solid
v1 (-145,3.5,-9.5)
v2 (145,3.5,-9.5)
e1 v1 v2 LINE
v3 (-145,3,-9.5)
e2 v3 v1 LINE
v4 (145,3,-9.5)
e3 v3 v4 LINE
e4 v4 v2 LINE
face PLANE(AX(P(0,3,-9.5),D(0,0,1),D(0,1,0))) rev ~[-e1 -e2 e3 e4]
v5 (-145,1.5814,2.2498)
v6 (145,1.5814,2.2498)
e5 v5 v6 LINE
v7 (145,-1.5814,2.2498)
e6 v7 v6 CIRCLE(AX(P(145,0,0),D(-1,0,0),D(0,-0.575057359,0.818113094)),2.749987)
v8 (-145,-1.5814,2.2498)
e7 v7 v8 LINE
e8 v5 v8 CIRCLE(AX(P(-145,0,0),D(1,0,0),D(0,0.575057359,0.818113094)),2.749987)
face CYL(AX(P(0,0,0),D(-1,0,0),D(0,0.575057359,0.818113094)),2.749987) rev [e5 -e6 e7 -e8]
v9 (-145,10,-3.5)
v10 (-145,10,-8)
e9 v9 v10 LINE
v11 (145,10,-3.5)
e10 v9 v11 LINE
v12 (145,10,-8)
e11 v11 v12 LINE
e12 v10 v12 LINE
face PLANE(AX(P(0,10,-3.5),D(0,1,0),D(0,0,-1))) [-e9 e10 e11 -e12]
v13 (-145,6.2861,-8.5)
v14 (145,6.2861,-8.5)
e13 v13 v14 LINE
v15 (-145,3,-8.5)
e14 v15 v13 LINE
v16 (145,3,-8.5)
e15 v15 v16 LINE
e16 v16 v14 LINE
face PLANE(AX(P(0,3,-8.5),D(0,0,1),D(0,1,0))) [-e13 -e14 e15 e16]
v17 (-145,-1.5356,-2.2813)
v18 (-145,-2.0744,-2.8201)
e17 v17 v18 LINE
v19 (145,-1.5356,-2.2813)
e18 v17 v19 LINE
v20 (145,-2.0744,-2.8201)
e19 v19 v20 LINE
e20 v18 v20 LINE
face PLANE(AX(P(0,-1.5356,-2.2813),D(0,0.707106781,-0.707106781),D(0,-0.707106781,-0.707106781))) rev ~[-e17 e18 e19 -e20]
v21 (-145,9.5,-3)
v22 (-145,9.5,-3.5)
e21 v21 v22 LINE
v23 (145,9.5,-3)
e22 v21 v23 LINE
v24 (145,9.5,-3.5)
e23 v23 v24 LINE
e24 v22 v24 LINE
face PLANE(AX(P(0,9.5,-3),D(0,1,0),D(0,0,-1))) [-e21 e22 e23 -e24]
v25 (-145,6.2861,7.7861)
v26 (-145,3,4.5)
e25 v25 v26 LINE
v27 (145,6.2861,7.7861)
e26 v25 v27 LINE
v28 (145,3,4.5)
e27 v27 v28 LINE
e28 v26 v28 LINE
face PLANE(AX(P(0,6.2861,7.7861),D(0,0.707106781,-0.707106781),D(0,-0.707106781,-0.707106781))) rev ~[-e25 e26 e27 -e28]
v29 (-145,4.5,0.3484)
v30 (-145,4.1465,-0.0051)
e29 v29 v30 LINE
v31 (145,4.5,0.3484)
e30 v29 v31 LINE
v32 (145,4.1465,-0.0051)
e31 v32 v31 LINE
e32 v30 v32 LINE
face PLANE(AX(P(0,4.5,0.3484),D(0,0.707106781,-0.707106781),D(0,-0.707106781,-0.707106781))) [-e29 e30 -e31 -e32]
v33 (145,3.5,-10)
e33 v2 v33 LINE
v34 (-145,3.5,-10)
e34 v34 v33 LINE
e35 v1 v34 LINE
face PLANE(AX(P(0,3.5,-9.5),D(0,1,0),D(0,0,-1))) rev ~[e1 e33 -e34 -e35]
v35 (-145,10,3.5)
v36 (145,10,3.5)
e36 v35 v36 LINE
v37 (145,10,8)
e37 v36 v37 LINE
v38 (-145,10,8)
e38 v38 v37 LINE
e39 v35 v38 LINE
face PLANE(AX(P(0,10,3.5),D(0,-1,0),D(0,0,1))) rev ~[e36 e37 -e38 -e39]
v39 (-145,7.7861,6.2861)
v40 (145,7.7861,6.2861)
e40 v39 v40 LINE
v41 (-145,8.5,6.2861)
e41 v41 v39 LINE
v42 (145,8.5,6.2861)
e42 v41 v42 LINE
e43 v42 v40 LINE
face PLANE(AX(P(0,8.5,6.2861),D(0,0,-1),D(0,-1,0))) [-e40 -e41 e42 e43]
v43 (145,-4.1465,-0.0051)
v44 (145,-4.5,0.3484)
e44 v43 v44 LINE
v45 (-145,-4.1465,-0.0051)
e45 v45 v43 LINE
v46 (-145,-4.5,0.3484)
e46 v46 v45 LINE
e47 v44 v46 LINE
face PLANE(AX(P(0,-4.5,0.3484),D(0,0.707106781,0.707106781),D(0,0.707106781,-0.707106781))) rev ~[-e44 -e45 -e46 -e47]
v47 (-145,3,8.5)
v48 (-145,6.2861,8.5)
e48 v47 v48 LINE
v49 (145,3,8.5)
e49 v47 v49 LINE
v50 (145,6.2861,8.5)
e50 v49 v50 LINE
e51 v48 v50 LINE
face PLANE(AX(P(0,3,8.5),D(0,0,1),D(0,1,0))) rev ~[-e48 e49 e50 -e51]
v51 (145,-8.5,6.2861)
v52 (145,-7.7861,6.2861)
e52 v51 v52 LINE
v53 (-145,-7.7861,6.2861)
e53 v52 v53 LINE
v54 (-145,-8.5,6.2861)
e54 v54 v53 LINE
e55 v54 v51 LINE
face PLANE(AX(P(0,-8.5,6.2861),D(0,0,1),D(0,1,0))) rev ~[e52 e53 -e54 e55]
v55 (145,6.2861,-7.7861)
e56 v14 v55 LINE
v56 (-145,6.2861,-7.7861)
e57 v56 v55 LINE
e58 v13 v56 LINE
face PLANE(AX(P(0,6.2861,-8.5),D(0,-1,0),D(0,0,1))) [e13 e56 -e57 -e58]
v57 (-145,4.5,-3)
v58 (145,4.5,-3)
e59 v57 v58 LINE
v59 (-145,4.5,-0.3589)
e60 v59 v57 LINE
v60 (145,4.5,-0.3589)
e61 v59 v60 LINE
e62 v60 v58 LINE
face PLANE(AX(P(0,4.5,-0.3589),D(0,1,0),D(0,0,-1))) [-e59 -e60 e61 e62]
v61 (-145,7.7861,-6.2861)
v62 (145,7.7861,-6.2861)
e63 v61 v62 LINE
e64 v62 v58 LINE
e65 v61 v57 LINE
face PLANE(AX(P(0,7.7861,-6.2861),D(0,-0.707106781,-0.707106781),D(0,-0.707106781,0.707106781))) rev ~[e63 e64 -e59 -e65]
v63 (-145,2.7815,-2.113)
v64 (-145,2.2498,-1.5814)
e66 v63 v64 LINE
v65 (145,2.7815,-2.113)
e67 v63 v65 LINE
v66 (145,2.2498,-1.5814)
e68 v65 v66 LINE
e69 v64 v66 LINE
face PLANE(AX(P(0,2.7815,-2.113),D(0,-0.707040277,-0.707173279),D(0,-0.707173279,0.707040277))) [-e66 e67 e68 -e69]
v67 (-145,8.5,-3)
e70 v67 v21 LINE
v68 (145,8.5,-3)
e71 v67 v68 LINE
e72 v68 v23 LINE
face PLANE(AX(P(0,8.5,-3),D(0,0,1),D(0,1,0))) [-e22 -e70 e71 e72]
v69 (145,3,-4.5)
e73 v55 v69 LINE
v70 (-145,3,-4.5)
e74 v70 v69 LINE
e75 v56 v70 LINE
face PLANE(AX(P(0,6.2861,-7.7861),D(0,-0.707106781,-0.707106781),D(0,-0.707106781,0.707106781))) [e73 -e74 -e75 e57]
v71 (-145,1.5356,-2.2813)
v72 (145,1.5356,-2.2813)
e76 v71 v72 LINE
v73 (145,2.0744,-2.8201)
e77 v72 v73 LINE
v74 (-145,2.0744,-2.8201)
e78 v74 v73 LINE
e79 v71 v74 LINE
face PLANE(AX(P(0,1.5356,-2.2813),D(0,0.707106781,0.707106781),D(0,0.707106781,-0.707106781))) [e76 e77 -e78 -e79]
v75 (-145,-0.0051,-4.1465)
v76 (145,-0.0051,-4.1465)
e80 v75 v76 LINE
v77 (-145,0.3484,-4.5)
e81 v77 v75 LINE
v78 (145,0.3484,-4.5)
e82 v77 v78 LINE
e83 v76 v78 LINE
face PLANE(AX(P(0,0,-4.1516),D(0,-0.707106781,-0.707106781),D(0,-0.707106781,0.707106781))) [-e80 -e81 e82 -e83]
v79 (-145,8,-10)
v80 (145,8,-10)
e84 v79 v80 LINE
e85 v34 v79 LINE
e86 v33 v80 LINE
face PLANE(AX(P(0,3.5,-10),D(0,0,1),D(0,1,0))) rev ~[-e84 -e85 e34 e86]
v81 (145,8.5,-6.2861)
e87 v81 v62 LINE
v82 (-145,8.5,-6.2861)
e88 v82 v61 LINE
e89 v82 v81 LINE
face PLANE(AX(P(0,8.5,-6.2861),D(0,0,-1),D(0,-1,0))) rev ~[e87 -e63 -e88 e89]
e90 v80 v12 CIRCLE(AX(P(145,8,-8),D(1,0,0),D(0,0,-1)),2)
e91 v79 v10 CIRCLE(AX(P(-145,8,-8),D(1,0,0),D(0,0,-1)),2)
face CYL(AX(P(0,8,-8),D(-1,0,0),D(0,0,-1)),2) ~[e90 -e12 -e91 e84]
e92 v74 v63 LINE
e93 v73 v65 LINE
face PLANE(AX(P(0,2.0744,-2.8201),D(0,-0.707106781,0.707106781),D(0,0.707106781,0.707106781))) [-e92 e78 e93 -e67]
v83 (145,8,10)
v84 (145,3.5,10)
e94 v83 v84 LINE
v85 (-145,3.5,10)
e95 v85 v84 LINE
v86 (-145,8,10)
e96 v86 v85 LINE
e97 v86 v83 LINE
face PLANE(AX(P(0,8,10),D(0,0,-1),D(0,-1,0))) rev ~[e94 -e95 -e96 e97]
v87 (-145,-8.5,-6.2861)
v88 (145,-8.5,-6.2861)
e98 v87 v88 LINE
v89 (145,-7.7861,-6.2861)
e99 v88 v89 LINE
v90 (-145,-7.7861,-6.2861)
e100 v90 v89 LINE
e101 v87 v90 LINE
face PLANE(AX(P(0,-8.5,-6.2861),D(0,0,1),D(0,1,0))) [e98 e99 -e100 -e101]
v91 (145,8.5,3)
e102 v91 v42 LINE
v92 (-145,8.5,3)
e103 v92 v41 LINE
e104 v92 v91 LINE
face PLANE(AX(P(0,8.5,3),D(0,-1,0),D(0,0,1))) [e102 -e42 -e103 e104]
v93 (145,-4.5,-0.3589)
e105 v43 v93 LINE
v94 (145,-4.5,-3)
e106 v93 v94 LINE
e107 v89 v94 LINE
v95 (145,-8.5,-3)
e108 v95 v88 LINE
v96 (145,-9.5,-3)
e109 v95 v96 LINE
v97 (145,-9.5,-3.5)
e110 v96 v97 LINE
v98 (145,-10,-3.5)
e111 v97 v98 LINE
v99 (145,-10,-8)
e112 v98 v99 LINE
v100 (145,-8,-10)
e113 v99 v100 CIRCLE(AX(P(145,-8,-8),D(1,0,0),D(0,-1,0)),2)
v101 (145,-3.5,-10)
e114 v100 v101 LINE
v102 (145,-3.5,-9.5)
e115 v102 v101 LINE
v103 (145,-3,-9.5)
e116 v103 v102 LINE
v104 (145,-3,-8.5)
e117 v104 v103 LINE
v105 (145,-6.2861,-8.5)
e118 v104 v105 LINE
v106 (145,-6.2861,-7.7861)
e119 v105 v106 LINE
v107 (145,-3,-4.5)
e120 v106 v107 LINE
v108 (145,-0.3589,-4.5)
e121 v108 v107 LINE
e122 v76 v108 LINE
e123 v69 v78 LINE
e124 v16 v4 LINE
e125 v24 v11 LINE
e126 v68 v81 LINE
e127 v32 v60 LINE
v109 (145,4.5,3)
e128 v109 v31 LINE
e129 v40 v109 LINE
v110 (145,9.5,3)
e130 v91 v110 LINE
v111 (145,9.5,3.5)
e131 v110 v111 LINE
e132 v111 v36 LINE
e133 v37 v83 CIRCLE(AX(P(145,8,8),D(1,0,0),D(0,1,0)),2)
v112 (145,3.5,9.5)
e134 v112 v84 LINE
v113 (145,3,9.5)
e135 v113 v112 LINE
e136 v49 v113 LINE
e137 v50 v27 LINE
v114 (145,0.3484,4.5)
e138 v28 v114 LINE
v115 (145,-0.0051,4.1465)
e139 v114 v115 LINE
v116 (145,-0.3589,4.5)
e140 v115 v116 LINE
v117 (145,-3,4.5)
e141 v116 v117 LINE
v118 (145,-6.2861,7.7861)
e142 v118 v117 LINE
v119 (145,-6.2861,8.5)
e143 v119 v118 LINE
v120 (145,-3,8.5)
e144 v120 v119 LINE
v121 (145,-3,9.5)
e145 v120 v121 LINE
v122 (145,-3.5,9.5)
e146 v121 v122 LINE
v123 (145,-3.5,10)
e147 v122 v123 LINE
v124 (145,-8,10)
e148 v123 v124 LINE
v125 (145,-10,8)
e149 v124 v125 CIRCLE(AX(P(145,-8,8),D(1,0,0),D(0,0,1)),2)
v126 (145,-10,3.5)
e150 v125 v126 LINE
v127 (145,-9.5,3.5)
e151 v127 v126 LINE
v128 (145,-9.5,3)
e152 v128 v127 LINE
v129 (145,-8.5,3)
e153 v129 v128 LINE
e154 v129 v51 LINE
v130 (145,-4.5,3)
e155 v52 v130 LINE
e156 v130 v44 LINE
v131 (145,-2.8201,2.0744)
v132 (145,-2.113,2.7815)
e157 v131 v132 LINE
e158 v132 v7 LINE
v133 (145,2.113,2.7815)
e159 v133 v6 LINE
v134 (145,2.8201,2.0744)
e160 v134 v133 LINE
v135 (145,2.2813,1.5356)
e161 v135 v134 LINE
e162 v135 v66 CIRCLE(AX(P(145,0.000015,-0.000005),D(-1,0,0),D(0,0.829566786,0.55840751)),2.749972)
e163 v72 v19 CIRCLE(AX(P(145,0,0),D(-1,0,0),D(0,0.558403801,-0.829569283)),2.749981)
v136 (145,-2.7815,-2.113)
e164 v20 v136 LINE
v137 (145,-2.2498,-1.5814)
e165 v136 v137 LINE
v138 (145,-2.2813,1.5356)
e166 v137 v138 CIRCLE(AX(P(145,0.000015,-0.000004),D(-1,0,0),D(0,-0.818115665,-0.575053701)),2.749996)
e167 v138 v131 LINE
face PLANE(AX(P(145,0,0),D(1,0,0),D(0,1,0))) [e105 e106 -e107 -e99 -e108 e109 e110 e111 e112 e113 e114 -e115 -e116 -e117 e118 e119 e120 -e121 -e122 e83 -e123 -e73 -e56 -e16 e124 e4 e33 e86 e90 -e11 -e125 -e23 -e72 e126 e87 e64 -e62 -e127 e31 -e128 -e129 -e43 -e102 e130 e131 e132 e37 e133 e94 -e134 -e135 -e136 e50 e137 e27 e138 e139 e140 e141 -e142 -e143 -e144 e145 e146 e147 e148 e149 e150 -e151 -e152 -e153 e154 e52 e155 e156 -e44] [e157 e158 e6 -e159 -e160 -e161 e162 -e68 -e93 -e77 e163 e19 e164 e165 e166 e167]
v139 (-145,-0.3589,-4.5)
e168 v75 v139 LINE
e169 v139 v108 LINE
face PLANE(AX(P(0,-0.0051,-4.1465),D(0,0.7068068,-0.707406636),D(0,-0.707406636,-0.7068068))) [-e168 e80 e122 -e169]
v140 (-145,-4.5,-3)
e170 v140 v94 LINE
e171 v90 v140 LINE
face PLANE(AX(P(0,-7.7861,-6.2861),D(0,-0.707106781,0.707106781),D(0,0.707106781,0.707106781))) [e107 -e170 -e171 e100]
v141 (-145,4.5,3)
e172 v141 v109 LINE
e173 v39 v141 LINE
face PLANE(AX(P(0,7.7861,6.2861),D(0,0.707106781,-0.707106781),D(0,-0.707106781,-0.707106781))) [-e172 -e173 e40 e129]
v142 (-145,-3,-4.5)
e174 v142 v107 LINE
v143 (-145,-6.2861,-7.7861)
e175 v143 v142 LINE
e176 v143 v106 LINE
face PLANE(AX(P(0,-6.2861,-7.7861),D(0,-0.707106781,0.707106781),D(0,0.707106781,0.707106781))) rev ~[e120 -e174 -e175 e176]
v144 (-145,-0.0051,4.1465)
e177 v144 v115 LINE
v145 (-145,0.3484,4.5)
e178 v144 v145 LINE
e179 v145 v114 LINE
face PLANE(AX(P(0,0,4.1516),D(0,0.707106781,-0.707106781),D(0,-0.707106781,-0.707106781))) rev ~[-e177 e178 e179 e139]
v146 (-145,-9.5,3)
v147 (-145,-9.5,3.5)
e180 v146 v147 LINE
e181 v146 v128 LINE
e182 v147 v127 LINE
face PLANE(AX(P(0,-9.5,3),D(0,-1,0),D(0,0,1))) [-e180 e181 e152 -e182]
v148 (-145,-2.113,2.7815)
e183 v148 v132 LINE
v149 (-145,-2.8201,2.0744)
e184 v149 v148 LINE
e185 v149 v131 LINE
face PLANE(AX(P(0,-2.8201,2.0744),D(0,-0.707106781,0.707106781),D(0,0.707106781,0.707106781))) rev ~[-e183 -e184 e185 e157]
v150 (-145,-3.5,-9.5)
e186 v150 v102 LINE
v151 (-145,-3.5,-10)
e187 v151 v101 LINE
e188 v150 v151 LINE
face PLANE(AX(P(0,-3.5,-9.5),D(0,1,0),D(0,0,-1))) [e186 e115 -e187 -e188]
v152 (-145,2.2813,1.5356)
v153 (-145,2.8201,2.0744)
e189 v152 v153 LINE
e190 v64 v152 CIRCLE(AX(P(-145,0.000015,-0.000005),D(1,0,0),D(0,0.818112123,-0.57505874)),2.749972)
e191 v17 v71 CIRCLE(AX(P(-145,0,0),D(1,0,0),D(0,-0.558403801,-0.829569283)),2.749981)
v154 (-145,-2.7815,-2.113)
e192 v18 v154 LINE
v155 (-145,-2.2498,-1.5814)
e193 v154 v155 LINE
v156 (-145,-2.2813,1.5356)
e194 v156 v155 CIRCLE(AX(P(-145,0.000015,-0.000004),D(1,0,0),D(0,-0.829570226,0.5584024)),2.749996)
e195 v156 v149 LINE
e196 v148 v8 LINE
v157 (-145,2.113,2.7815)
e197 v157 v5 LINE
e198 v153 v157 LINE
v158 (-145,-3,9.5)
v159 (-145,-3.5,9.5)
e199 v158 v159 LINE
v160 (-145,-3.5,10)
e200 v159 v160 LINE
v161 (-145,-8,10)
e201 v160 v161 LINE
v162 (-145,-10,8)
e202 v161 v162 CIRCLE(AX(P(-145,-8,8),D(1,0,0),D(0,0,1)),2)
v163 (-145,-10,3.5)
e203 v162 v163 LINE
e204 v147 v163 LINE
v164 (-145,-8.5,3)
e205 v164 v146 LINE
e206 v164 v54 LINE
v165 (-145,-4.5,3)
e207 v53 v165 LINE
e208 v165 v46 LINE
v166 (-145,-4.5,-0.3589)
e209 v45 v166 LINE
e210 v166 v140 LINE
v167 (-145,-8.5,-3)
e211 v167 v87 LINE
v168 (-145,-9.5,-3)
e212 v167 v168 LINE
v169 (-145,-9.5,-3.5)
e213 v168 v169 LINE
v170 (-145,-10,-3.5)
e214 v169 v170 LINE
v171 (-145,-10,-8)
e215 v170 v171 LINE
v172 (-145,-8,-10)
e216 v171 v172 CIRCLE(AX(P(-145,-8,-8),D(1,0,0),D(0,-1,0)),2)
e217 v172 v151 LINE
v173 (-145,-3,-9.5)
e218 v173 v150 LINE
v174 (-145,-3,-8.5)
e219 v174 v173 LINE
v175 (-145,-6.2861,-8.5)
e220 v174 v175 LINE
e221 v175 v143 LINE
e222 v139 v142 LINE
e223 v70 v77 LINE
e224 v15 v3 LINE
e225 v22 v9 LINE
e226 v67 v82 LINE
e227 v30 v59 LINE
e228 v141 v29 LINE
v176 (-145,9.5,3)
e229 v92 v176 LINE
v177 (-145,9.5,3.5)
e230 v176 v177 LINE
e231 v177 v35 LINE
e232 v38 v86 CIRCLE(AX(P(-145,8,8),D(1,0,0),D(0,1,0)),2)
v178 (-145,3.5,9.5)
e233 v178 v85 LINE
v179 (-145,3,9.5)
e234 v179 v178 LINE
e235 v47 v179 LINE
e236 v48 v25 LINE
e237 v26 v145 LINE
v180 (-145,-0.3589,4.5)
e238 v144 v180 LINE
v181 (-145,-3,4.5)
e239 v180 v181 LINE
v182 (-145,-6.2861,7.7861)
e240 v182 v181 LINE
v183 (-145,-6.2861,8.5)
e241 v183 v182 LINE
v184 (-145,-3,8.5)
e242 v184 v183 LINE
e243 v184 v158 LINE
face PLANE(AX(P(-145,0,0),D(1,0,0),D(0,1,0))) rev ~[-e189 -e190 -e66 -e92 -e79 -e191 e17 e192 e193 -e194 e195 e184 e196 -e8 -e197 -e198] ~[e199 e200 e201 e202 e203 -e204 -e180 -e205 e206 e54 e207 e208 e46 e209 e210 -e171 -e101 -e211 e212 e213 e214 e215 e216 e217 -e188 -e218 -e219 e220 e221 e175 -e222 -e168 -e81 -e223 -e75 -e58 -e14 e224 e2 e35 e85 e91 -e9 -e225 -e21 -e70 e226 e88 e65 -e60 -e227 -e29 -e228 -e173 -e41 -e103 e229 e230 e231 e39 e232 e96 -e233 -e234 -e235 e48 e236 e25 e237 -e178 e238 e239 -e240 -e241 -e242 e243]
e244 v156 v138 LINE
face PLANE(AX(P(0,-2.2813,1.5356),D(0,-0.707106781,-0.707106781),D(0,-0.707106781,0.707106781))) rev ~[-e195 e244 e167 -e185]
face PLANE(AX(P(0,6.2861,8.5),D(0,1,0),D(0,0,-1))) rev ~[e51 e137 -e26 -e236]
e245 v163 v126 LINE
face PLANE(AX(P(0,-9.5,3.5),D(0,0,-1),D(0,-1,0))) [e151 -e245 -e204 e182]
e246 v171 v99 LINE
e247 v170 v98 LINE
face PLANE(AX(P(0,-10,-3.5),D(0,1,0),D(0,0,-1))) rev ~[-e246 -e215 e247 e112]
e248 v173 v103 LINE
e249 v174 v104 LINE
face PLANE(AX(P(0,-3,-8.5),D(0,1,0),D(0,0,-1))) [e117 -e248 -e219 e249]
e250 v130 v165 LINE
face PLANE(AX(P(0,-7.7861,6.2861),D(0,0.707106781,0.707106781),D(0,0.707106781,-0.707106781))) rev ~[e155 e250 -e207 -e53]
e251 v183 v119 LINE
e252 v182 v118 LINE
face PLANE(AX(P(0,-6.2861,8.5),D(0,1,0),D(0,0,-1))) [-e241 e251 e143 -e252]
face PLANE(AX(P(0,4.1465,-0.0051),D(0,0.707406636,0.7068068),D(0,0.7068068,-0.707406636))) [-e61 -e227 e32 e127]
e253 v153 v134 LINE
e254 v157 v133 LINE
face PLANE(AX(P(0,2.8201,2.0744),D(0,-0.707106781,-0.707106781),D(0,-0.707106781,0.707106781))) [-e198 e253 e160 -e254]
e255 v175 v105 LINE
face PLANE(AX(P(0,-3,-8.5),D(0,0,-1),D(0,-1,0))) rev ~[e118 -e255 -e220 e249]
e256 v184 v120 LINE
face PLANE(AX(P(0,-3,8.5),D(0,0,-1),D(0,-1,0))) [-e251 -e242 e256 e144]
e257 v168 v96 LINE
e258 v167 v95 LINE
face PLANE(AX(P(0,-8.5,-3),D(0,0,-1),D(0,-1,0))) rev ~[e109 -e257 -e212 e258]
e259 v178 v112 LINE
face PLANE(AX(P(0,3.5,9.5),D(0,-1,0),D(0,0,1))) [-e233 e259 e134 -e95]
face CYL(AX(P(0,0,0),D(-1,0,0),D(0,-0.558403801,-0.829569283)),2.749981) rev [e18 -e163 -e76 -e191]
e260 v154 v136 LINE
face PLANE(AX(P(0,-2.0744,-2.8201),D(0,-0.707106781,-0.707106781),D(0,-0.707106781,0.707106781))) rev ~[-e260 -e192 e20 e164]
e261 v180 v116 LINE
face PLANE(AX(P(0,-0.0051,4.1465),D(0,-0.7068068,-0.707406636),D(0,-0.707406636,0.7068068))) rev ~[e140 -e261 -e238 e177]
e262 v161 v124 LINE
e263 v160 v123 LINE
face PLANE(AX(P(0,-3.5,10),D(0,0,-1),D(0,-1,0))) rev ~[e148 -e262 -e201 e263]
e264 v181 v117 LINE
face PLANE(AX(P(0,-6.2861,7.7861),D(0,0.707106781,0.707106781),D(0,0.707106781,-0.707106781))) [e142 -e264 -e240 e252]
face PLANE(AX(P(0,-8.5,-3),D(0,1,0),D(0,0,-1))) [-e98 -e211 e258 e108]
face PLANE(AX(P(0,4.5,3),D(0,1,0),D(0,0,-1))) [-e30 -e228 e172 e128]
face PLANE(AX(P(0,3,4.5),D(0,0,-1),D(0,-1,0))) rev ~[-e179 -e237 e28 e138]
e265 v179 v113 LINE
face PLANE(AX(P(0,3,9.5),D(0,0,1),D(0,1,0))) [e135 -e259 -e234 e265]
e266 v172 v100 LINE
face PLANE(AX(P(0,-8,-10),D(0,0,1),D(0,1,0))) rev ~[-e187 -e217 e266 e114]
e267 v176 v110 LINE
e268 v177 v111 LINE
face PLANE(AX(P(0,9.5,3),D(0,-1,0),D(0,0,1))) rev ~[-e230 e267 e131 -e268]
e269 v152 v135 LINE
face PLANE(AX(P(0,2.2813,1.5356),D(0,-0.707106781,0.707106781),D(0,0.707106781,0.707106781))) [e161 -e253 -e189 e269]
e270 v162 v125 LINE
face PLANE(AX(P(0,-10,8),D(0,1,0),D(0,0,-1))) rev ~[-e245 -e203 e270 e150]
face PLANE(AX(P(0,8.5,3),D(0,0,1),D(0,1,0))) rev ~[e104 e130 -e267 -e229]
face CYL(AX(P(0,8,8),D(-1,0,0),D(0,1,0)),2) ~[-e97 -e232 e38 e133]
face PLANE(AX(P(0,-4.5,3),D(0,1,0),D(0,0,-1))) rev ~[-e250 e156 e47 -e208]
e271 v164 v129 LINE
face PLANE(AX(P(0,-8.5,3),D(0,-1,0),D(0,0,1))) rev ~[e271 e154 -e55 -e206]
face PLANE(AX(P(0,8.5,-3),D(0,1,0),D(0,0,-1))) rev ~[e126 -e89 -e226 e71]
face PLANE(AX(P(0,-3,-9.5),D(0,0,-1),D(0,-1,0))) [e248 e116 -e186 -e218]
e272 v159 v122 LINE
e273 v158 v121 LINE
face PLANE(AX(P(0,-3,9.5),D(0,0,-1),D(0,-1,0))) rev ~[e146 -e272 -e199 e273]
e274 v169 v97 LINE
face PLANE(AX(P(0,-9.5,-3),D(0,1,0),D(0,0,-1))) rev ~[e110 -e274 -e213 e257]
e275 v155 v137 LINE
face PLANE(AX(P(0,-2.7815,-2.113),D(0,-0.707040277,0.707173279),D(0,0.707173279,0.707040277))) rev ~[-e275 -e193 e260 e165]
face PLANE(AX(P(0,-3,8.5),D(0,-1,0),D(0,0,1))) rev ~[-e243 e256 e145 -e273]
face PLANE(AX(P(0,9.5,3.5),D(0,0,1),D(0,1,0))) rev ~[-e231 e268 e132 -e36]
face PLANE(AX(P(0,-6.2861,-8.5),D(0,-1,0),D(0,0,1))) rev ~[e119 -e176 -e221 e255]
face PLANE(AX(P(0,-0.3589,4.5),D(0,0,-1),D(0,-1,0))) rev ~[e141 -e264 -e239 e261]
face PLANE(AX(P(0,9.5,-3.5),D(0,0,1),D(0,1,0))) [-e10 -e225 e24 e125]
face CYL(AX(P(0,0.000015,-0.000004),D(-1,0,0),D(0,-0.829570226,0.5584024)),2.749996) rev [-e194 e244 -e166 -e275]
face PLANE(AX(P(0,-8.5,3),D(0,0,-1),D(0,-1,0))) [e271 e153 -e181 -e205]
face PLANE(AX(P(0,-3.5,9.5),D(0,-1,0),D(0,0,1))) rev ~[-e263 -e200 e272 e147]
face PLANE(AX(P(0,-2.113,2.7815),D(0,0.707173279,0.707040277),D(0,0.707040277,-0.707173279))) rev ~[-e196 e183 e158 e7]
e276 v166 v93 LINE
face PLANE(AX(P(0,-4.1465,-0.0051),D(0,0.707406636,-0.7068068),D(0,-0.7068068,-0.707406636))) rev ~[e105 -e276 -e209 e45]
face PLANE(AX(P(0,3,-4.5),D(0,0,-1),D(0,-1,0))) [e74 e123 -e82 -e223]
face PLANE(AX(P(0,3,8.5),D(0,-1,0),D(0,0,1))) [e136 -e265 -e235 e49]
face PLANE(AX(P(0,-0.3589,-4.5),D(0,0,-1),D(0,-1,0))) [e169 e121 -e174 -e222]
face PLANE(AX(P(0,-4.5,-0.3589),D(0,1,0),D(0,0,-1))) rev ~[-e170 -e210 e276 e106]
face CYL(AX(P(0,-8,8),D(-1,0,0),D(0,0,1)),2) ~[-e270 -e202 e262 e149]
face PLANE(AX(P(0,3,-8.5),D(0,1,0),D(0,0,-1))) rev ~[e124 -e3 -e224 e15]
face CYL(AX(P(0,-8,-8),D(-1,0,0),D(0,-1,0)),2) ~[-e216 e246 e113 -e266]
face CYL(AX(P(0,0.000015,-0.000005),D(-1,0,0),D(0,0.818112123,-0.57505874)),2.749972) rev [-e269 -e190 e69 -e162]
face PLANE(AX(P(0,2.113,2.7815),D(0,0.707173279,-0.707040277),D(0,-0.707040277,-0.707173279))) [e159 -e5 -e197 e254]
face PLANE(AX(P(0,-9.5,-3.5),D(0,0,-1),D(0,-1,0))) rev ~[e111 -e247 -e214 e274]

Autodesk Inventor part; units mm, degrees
ref_plane "YZ Plane" through (0, 0, 0) normal (1, 0, 0) x (0, 1, 0)
ref_plane "XZ Plane" through (0, 0, 0) normal (0, 1, 0) x (-1, 0, 0)
ref_plane "XY Plane" through (0, 0, 0) normal (0, 0, 1) x (1, 0, 0)
sketch "Skizze1" plane through (0, 0, 0) normal (1, 0, 0) x (0, 1, 0)
  line L0 (-14.5799, 0) -> (14.5799, 0) projected
  line L1 (0, -14.5799) -> (0, 14.5799) projected
  line L2 (9.5, 3) -> (9.5, 3.5)
  line L3 (9.5, 3.5) -> (10, 3.5)
  line L4 (8.5, 3) -> (8.5, 6.2861)
  line L5 (7.7861, 6.2861) -> (4.5, 3)
  line L6 (8.5, 6.2861) -> (7.7861, 6.2861)
  line L7 (8.5, 3) -> (9.5, 3)
  line L8 (9.5, -3) -> (9.5, -3.5)
  line L9 (9.5, -3.5) -> (10, -3.5)
  line L10 (8.5, -3) -> (8.5, -6.2861)
  line L11 (7.7861, -6.2861) -> (4.5, -3)
  line L12 (8.5, -6.2861) -> (7.7861, -6.2861)
  line L13 (8.5, -3) -> (9.5, -3)
  line L14 (10, 3.5) -> (10, 8)
  line L15 (10, -3.5) -> (10, -8)
  line L16 (-9.5, 3) -> (-9.5, 3.5)
  line L17 (-9.5, 3.5) -> (-10, 3.5)
  line L18 (-8.5, 3) -> (-8.5, 6.2861)
  line L19 (-7.7861, 6.2861) -> (-4.5, 3)
  line L20 (-8.5, 6.2861) -> (-7.7861, 6.2861)
  line L21 (-8.5, 3) -> (-9.5, 3)
  line L22 (-8.5, -3) -> (-9.5, -3)
  line L23 (-8.5, -3) -> (-8.5, -6.2861)
  line L24 (-8.5, -6.2861) -> (-7.7861, -6.2861)
  line L25 (-7.7861, -6.2861) -> (-4.5, -3)
  line L26 (-9.5, -3) -> (-9.5, -3.5)
  line L27 (-9.5, -3.5) -> (-10, -3.5)
  line L28 (3, -9.5) -> (3.5, -9.5)
  line L29 (3.5, -9.5) -> (3.5, -10)
  line L30 (3, -8.5) -> (6.2861, -8.5)
  line L31 (6.2861, -7.7861) -> (3, -4.5)
  line L32 (6.2861, -8.5) -> (6.2861, -7.7861)
  line L33 (3, -8.5) -> (3, -9.5)
  line L34 (-3, -8.5) -> (-3, -9.5)
  line L35 (-3, -8.5) -> (-6.2861, -8.5)
  line L36 (-6.2861, -8.5) -> (-6.2861, -7.7861)
  line L37 (-6.2861, -7.7861) -> (-3, -4.5)
  line L38 (-3, -9.5) -> (-3.5, -9.5)
  line L39 (-3.5, -9.5) -> (-3.5, -10)
  line L40 (3.5, 9.5) -> (3.5, 10)
  line L41 (3, 9.5) -> (3.5, 9.5)
  line L42 (3, 8.5) -> (3, 9.5)
  line L43 (3, 8.5) -> (6.2861, 8.5)
  line L44 (6.2861, 8.5) -> (6.2861, 7.7861)
  line L45 (6.2861, 7.7861) -> (3, 4.5)
  line L46 (-6.2861, 7.7861) -> (-3, 4.5)
  line L47 (-6.2861, 8.5) -> (-6.2861, 7.7861)
  line L48 (-3, 8.5) -> (-6.2861, 8.5)
  line L49 (-3, 8.5) -> (-3, 9.5)
  line L50 (-3, 9.5) -> (-3.5, 9.5)
  line L51 (-3.5, 9.5) -> (-3.5, 10)
  line L52 (8, 10) -> (3.5, 10)
  line L53 (-3.5, 10) -> (-8, 10)
  line L54 (-10, 8) -> (-10, 3.5)
  line L55 (-10, -3.5) -> (-10, -8)
  line L56 (-8, -10) -> (-3.5, -10)
  line L57 (3.5, -10) -> (8, -10)
  arc A0 (10, 8) -> (8, 10) centre (8, 8) ccw
  arc A1 (8, -10) -> (10, -8) centre (8, -8) ccw
  arc A2 (-10, -8) -> (-8, -10) centre (-8, -8) ccw
  arc A3 (-8, 10) -> (-10, 8) centre (-8, 8) ccw
  line L58 (-2.8201, 2.0744) -> (-2.113, 2.7815)
  line L59 (-2.113, 2.7815) -> (-1.5814, 2.2498)
  line L60 (-2.2813, 1.5356) -> (-2.8201, 2.0744)
  line L61 (2.8201, 2.0744) -> (2.113, 2.7815)
  line L62 (2.113, 2.7815) -> (1.5814, 2.2498)
  line L63 (2.2813, 1.5356) -> (2.8201, 2.0744)
  line L64 (2.0744, -2.8201) -> (2.7815, -2.113)
  line L65 (2.7815, -2.113) -> (2.2498, -1.5814)
  line L66 (1.5356, -2.2813) -> (2.0744, -2.8201)
  line L67 (-2.7815, -2.113) -> (-2.2498, -1.5814)
  line L68 (-2.0744, -2.8201) -> (-2.7815, -2.113)
  line L69 (-1.5356, -2.2813) -> (-2.0744, -2.8201)
  arc A4 (1.5814, 2.2498) -> (-1.5814, 2.2498) centre (0, 0) ccw
  arc A5 (1.5814, 2.2498) -> (-1.5814, 2.2498) centre (0, 0) ccw
  arc A6 (2.2498, -1.5814) -> (2.2813, 1.5356) centre (0, 0) ccw
  arc A7 (2.2498, -1.5814) -> (2.2813, 1.5356) centre (0, 0) ccw
  arc A8 (-2.2813, 1.5356) -> (-2.2498, -1.5814) centre (0, 0) ccw
  arc A9 (-1.5356, -2.2813) -> (1.5356, -2.2813) centre (0, 0) ccw
  arc A10 (-2.2813, 1.5356) -> (-2.2498, -1.5814) centre (0, 0) ccw
  arc A11 (-1.5356, -2.2813) -> (1.5356, -2.2813) centre (0, 0) ccw
  line L70 (0.3484, 4.5) -> (-0.0051, 4.1465)
  line L71 (-0.0051, 4.1465) -> (-0.3589, 4.5)
  line L72 (3, 4.5) -> (0.3484, 4.5)
  line L73 (-0.3589, 4.5) -> (-3, 4.5)
  line L74 (4.5, 0.3484) -> (4.1465, -0.0051)
  line L75 (4.1465, -0.0051) -> (4.5, -0.3589)
  line L76 (0.3484, -4.5) -> (-0.0051, -4.1465)
  line L77 (-0.0051, -4.1465) -> (-0.3589, -4.5)
  line L78 (-4.5, 0.3484) -> (-4.1465, -0.0051)
  line L79 (-4.1465, -0.0051) -> (-4.5, -0.3589)
  line L80 (4.5, 3) -> (4.5, 0.3484)
  line L81 (4.5, -0.3589) -> (4.5, -3)
  line L82 (3, -4.5) -> (0.3484, -4.5)
  line L83 (-0.3589, -4.5) -> (-3, -4.5)
  line L84 (-4.5, 3) -> (-4.5, 0.3484)
  line L85 (-4.5, -0.3589) -> (-4.5, -3)
  point P0 (-10, -10)
  point P1 (-10, 10)
  point P2 (10, -10)
  dimension "d0" = 20
  dimension "d1" = 20
  dimension "d4" = 6
  dimension "d9" = 0.5
  dimension "d10" = 0.5
  dimension "d13" = 45
  dimension "d14" = 3.2861
  dimension "d16" = 3
  dimension "d17" = 3.5
  dimension "d19" = 6
  dimension "d20" = 0.5
  dimension "d21" = 0.5
  dimension "d22" = 45
  dimension "d23" = 3.2861
  dimension "d25" = 2
extrude "Extrusion1" add sketch "Skizze1" along normal mid plane 290 contours L78 L84 L19 L20 L18 L21 L16 L17 L54 A3 L53 L51 L50 L49 L48 L47 L46 L73 L71 L70 L1 A4 L59 L58 L60 A8 L0 | L0 A8 L67 L68 L69 A9 L1 L76 L77 L83 L37 L36 L35 L34 L38 L39 L56 A2 L55 L27 L26 L22 L23 L24 L25 L85 L79 L78 | A6 L63 L61 L62 A4 L1 L70 L72 L45 L44 L43 L42 L41 L40 L52 A0 L14 L3 L2 L7 L4 L6 L5 L80 L74 L0 | L0 L74 L75 L81 L11 L12 L10 L13 L8 L9 L15 A1 L57 L29 L28 L33 L30 L32 L31 L82 L76 L1 A9 L66 L64 L65 A6
properties part number "Motedius_20x20_B-Type_Slot-6_290" material "Aluminium 6061"
